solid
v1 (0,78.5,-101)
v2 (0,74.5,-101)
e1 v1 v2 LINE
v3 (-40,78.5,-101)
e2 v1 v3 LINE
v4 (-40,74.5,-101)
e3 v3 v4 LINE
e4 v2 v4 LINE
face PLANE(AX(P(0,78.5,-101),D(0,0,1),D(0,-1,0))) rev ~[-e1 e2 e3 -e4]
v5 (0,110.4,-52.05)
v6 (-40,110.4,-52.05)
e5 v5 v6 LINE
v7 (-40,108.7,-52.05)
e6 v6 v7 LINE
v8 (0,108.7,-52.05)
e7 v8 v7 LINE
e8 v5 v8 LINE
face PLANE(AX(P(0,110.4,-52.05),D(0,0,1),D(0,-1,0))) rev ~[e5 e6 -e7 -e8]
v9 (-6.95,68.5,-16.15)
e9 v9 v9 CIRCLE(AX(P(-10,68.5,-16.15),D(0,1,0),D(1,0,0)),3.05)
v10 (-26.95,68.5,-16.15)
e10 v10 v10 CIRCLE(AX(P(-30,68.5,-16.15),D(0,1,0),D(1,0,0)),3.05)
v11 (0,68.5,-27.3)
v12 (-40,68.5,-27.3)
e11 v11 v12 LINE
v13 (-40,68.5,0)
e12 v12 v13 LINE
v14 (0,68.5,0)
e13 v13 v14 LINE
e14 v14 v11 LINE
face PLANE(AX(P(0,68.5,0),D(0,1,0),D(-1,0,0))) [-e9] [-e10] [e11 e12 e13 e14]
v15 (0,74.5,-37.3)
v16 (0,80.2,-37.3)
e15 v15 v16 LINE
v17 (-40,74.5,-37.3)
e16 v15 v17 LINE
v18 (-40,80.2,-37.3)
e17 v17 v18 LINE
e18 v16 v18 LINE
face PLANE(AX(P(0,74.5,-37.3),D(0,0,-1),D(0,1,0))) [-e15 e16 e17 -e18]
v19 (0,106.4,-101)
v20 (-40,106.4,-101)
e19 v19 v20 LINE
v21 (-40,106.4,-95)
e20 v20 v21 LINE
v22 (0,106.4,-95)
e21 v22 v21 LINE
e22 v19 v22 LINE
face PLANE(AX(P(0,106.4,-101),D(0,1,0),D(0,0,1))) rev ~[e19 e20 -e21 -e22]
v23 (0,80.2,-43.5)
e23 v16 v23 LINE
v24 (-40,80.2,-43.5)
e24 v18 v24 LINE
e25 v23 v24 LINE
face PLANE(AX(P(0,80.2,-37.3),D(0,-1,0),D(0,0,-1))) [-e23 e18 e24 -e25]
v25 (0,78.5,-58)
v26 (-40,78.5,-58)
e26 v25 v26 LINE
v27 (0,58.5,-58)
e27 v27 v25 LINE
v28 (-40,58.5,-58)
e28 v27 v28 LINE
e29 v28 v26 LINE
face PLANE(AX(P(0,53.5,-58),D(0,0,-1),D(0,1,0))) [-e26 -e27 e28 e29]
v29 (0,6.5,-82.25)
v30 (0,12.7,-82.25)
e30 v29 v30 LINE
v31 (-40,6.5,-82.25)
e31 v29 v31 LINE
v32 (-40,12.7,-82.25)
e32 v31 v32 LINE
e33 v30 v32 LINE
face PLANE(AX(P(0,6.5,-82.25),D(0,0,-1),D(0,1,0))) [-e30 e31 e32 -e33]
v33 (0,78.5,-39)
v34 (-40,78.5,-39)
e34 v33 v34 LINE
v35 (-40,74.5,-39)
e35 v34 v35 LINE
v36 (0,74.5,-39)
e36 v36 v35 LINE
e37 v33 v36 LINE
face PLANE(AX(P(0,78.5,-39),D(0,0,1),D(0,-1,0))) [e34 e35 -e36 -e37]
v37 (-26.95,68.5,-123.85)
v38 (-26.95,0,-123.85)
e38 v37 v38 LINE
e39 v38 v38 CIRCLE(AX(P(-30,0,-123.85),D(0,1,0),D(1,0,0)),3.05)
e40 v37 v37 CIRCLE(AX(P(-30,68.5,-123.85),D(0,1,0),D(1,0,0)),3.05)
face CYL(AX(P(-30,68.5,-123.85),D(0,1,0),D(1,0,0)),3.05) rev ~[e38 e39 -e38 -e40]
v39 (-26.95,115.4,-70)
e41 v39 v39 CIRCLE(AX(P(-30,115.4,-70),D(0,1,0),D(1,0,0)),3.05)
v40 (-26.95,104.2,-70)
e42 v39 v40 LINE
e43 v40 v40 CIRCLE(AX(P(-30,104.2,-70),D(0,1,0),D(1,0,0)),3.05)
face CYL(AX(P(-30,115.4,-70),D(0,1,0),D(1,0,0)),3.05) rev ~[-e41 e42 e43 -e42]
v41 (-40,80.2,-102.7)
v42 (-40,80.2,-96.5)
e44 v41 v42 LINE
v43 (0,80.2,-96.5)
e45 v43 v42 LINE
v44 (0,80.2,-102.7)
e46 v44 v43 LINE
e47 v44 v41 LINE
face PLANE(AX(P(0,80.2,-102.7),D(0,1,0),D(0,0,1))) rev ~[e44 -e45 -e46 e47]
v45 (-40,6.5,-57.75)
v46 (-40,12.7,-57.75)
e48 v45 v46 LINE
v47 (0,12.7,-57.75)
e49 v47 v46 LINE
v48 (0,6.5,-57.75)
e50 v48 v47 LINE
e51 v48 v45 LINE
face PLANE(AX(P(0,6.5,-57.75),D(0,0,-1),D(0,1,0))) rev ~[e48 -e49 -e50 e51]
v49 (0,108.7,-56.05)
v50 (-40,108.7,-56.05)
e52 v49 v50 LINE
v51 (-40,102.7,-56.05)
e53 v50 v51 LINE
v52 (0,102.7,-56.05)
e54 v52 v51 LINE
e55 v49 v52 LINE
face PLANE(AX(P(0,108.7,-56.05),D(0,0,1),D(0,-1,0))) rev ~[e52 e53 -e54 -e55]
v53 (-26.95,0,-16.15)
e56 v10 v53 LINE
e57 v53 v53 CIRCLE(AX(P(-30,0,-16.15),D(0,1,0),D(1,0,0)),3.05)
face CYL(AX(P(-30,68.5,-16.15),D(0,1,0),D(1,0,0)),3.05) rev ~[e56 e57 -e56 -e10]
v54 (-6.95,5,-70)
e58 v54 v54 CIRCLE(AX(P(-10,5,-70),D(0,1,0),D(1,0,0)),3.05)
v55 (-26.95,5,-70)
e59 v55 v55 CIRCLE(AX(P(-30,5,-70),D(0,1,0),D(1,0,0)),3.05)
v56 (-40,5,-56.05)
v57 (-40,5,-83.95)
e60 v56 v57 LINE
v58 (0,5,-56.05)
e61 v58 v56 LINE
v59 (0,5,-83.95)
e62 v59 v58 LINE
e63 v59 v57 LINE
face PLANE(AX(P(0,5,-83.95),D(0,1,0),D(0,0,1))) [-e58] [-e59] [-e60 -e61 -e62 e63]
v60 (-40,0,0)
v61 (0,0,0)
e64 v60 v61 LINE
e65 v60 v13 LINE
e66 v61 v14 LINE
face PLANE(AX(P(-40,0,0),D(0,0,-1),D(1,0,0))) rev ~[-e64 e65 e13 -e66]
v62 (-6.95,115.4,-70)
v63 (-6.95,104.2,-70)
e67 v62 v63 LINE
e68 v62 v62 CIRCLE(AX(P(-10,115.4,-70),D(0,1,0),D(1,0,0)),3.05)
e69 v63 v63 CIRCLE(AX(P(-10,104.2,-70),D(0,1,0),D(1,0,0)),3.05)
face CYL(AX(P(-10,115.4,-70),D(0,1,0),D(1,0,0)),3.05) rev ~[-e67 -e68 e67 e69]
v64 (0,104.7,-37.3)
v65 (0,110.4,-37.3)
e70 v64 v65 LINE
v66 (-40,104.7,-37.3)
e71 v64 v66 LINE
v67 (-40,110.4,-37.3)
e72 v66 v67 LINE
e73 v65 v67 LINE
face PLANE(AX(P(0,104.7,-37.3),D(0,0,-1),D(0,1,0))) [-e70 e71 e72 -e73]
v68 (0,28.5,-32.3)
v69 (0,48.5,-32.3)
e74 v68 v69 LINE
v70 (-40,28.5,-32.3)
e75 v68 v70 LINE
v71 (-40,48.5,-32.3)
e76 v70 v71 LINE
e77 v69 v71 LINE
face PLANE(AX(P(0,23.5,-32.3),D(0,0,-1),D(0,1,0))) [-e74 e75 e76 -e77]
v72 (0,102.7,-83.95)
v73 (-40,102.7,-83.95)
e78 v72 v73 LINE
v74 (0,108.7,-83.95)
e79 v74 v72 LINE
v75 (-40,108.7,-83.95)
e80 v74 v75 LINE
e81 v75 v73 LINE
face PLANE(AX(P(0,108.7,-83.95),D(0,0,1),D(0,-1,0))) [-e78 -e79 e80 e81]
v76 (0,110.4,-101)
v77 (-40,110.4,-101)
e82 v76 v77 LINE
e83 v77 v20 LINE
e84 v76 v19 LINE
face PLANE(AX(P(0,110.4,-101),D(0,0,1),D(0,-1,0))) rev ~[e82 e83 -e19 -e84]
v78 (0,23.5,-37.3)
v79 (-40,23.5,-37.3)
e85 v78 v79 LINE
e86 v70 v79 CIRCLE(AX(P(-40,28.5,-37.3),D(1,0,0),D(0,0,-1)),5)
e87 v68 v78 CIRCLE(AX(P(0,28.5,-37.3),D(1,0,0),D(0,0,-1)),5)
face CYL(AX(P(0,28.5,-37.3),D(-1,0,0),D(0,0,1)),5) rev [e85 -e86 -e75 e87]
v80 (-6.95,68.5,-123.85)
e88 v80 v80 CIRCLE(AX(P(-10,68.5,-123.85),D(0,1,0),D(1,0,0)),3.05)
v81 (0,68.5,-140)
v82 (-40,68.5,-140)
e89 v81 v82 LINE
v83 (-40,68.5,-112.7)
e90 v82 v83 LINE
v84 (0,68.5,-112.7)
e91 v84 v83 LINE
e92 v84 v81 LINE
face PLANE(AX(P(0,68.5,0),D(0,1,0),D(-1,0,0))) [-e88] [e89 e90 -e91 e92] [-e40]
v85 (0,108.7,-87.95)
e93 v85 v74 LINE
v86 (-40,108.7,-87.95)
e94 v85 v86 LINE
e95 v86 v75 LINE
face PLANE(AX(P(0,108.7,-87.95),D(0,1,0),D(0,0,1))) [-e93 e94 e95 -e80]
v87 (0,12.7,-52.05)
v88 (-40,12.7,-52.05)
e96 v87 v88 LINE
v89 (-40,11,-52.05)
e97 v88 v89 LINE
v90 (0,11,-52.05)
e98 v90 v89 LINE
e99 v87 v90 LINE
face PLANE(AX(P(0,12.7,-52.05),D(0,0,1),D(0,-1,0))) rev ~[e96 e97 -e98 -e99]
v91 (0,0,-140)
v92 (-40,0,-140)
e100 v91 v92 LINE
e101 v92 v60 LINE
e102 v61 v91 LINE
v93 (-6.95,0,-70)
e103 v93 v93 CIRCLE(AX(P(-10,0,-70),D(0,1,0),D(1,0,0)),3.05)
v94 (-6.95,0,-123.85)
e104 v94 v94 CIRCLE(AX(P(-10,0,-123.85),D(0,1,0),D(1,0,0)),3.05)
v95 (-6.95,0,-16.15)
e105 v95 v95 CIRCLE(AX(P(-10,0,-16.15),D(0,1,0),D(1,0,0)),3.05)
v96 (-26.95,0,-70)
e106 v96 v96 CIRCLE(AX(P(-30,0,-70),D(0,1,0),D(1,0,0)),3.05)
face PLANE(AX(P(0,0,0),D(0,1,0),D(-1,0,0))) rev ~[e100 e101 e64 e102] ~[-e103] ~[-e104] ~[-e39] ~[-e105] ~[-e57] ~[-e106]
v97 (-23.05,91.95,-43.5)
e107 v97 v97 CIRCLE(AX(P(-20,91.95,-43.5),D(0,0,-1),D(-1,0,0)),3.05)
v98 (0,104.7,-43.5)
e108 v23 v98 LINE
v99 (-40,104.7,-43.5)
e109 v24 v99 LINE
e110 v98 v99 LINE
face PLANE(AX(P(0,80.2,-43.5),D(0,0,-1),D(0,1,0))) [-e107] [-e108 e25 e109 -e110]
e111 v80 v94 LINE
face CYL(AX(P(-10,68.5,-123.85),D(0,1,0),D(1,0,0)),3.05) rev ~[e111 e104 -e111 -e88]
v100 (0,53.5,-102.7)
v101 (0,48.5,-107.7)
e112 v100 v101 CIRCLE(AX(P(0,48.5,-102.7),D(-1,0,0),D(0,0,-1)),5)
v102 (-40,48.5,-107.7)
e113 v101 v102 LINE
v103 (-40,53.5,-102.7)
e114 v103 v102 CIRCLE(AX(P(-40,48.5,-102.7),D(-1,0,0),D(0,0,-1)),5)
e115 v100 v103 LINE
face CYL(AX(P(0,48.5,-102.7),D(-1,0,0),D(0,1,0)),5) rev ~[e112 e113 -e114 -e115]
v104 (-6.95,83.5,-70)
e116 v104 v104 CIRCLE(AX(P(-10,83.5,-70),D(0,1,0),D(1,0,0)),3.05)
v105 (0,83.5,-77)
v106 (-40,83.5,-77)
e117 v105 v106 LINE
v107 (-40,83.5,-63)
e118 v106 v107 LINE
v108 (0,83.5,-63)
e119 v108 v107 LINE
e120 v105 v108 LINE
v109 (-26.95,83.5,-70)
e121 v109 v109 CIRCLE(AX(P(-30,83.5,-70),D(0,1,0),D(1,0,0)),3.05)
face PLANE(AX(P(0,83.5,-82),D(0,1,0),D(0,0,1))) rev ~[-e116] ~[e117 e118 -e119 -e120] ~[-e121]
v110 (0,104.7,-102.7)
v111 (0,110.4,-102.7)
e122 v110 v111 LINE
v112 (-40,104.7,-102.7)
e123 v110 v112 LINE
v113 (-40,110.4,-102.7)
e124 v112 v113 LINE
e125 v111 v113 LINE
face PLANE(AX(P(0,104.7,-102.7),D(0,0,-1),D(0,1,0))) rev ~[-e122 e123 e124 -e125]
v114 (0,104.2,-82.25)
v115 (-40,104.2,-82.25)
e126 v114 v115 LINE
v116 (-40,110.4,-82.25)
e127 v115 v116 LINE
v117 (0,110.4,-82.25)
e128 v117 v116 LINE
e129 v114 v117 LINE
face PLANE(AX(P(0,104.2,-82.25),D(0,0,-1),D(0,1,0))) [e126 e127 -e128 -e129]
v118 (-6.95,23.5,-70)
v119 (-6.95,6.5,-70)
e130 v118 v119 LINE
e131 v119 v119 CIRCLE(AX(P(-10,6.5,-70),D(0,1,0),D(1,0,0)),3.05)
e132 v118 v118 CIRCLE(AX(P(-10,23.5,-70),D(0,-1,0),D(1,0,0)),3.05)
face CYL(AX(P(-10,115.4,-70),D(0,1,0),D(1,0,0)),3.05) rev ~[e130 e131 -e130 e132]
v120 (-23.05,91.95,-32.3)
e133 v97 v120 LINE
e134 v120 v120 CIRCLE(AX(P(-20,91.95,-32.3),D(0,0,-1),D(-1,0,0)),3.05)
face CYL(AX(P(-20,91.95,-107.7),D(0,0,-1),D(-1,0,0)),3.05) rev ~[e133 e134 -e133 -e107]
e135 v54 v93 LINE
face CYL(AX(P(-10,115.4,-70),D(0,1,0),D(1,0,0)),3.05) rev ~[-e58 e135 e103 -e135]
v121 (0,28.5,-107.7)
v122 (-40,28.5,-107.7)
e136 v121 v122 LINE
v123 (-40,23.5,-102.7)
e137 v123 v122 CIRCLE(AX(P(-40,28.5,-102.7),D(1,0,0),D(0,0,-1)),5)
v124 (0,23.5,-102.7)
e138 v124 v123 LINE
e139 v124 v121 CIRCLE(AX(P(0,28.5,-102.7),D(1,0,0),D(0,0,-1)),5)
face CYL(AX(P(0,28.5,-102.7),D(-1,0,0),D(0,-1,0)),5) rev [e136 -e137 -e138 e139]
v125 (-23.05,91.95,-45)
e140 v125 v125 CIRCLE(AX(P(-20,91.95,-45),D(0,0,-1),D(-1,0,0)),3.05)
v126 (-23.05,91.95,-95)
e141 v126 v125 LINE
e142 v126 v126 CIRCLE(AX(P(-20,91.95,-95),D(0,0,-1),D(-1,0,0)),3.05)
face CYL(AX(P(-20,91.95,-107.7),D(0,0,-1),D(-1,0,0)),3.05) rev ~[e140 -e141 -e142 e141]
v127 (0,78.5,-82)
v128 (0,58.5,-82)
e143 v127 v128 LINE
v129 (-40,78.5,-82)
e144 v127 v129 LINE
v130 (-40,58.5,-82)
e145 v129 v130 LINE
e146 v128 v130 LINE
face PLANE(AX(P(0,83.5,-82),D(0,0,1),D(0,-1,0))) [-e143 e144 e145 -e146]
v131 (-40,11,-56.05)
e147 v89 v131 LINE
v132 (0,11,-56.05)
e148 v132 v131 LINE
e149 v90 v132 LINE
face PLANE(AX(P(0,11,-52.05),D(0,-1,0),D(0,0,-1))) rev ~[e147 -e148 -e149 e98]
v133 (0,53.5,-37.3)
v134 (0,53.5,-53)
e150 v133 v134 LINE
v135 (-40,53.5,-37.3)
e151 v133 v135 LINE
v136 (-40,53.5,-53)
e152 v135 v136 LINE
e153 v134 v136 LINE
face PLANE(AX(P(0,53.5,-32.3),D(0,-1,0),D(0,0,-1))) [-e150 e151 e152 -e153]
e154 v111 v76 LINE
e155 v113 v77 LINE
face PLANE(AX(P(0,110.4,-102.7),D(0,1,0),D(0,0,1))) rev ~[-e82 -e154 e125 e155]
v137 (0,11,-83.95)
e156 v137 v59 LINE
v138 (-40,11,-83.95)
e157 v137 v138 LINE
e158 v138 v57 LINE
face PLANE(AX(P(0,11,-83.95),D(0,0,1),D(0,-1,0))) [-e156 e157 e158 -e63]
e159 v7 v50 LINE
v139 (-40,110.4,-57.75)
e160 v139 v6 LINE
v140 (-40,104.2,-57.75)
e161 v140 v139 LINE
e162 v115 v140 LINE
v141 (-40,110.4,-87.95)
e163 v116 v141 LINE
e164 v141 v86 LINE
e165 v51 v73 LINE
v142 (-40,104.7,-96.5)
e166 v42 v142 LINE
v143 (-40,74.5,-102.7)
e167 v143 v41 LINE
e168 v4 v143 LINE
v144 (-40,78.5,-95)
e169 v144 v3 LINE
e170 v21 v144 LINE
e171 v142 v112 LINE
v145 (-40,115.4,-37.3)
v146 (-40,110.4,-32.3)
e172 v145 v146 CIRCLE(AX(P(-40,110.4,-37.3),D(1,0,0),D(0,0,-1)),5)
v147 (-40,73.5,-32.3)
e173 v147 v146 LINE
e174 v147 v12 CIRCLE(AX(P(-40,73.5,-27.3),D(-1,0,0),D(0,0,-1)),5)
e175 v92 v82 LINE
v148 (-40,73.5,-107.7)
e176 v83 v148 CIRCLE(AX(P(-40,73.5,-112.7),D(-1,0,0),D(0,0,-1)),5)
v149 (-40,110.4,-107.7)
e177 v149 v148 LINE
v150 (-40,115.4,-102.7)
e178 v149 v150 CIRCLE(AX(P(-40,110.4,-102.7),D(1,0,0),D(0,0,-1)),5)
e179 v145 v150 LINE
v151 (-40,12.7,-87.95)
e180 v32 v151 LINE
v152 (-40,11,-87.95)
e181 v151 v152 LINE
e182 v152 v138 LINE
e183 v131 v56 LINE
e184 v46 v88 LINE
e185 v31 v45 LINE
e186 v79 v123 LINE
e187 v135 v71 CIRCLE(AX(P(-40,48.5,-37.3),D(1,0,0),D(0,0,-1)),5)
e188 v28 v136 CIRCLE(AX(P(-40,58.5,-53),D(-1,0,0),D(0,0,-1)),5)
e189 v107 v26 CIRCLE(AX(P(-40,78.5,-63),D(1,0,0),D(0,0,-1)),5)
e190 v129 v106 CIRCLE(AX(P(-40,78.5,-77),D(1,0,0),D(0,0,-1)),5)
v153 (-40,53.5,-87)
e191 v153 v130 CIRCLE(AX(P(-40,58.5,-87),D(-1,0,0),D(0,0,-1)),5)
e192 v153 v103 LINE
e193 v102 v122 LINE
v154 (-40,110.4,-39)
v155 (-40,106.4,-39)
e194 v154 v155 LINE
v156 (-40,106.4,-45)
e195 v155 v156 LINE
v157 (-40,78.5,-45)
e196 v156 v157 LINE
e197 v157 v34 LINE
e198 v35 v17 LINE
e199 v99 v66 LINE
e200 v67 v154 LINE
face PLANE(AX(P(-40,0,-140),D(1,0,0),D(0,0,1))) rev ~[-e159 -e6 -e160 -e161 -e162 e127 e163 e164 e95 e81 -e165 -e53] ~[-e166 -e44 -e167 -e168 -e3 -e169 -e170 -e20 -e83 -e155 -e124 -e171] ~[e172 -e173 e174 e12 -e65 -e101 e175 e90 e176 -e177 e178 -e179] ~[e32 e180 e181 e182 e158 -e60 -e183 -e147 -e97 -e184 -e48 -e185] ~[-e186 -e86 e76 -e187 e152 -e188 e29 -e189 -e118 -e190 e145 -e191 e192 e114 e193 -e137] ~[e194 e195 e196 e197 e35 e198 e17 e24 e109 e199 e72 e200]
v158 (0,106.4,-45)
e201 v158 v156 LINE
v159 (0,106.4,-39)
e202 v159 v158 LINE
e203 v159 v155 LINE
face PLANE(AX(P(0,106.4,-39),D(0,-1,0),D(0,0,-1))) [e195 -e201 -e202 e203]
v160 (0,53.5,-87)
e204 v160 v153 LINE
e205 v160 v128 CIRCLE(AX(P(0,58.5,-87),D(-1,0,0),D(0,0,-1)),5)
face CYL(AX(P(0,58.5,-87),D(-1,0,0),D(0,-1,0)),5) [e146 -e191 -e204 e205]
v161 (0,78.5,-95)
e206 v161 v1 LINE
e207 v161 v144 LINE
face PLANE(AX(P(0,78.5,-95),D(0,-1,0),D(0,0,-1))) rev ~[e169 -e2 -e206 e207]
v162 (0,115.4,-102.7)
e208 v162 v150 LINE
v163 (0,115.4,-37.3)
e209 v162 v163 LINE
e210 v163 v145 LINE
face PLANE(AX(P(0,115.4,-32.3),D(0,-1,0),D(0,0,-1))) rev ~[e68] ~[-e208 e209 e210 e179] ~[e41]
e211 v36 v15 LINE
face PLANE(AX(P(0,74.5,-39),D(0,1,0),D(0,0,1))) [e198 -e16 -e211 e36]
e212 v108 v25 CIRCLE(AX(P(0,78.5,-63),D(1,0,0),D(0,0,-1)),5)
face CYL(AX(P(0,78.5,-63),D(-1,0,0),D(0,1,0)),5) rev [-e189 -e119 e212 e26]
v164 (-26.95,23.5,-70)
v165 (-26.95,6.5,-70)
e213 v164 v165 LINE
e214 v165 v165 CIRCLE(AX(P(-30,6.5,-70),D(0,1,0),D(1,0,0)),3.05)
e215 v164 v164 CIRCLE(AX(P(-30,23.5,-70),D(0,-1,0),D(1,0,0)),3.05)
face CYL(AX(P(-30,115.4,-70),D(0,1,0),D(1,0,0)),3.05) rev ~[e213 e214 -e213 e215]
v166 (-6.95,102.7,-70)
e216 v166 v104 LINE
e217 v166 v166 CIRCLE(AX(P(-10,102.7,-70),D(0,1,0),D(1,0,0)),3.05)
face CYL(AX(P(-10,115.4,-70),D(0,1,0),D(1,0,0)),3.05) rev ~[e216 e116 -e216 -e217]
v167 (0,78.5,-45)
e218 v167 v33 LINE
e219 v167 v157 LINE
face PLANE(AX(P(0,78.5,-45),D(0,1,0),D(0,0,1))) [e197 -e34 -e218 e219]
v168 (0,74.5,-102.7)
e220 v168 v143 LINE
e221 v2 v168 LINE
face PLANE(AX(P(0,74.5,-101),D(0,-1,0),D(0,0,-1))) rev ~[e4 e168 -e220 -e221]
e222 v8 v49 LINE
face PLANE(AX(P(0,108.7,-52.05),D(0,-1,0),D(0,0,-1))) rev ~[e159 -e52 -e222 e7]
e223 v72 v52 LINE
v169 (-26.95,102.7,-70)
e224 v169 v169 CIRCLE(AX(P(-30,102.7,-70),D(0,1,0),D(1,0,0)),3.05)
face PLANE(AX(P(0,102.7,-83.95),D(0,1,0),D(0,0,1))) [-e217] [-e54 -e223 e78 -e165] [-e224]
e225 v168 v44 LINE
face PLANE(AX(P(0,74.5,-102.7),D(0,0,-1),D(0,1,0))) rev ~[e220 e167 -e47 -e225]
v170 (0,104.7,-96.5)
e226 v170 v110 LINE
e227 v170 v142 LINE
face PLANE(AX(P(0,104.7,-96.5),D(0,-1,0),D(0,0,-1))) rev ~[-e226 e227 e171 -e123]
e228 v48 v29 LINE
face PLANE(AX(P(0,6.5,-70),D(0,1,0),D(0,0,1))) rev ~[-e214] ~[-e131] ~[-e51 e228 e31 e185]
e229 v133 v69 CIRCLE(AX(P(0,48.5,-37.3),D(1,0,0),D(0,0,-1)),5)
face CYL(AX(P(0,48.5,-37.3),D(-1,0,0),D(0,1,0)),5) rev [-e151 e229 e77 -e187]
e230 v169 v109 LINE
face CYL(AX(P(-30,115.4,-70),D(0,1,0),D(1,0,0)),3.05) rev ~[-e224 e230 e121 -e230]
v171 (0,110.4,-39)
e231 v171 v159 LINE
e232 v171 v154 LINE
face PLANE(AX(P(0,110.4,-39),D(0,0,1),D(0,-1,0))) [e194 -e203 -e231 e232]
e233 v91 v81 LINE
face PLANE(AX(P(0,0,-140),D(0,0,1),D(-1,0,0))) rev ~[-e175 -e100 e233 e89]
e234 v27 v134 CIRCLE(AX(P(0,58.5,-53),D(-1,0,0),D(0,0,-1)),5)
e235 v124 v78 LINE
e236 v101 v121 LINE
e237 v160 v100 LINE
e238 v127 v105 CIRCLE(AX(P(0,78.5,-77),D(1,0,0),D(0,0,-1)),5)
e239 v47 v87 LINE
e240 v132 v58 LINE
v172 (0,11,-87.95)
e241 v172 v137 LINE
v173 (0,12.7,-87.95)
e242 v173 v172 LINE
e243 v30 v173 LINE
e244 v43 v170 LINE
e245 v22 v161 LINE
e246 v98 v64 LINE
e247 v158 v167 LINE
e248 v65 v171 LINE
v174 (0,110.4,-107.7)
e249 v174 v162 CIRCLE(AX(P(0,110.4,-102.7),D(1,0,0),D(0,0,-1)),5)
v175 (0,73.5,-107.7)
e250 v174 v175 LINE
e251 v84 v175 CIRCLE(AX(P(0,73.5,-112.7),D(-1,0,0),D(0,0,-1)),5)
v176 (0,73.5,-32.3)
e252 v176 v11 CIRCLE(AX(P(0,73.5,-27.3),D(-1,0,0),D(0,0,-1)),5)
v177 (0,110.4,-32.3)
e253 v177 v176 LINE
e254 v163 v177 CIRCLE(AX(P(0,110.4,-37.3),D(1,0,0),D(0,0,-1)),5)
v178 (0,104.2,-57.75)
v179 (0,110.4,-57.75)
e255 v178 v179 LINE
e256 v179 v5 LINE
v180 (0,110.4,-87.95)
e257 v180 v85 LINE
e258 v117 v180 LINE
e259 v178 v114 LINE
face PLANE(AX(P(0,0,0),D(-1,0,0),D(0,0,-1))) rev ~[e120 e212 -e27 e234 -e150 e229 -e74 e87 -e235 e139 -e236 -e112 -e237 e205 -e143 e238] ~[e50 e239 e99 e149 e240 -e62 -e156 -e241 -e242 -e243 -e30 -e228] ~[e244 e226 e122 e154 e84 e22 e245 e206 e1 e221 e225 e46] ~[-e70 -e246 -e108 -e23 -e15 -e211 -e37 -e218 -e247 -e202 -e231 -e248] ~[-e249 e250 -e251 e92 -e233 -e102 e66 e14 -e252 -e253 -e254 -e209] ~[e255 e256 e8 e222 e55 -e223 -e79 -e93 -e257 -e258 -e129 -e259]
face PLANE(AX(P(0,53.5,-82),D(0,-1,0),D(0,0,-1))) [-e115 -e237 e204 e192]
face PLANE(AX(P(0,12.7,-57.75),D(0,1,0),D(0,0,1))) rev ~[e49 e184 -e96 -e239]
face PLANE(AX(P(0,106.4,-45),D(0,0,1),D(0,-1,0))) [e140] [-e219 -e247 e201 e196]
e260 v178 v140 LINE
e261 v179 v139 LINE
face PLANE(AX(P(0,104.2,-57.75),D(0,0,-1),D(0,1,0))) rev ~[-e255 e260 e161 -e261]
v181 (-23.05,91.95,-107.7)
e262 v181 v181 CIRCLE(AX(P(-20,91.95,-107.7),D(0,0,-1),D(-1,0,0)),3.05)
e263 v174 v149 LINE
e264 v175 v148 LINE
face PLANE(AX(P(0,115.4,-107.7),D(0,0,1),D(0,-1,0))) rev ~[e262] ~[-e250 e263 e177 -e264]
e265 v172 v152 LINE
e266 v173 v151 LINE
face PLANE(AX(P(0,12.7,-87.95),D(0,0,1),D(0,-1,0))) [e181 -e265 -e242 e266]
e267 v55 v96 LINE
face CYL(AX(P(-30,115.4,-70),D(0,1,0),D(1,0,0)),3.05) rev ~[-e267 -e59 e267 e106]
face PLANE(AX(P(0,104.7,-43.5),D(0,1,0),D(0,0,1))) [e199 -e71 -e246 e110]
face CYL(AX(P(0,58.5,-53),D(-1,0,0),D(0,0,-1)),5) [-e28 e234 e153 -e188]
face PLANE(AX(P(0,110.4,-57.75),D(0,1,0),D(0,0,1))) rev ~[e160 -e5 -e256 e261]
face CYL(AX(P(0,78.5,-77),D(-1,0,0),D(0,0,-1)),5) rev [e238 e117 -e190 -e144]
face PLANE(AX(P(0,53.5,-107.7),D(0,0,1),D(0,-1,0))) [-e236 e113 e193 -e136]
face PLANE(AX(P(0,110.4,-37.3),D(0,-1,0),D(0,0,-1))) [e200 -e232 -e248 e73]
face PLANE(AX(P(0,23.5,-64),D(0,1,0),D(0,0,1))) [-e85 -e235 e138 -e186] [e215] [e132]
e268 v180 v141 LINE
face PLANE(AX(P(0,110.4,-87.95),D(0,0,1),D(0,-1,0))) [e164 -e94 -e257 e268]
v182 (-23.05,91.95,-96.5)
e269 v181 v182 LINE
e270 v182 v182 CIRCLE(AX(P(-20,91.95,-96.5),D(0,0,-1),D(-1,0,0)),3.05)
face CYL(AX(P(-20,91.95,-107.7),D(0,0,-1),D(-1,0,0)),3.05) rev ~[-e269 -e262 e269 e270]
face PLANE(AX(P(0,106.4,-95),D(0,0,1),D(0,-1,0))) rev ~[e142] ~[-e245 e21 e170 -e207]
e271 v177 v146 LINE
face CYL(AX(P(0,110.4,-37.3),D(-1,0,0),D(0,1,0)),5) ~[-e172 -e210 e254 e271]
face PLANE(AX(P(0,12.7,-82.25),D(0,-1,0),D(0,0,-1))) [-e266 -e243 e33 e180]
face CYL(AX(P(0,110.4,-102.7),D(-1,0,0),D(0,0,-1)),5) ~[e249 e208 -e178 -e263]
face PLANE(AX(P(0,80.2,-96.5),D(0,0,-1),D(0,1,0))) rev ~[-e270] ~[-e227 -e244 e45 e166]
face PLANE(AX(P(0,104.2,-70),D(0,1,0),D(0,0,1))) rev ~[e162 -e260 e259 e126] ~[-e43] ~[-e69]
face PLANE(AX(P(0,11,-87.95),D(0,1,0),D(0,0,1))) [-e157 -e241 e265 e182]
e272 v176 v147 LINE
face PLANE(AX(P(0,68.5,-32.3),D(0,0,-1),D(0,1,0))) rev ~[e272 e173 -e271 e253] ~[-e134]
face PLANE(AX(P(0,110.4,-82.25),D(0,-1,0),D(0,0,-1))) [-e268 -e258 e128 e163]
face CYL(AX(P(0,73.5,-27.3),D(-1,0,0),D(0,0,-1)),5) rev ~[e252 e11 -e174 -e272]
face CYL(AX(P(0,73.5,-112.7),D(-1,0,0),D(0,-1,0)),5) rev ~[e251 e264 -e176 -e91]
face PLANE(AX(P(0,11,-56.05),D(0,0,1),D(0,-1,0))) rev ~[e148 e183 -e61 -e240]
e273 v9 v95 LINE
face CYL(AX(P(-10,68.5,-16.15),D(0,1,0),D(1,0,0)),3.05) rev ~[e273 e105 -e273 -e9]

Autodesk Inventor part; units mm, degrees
ref_plane "YZ Plane" through (0, 0, 0) normal (1, 0, 0) x (0, 1, 0)
ref_plane "XZ Plane" through (0, 0, 0) normal (0, 1, 0) x (-1, 0, 0)
ref_plane "XY Plane" through (0, 0, 0) normal (0, 0, 1) x (1, 0, 0)
sketch "Sketch1" plane through (0, 0, 0) normal (0, 1, 0) x (-1, 0, 0)
  line L0 (0, 0) -> (0, -140)
  line L1 (0, -140) -> (40, -140)
  line L2 (40, -140) -> (40, 0)
  line L3 (40, 0) -> (0, 0)
  dimension "d0" = 140
  dimension "d1" = 40
extrude "Extrusion1" add sketch "Sketch1" along normal blind 68.5
sketch "Sketch2" plane through (0, 0, 0) normal (1, 0, 0) x (0, 0, -1)
  line L0 (140, 68.5) -> (0, 68.5) projected
  line L1 (45, 78.5) -> (39, 78.5)
  line L2 (39, 78.5) -> (39, 74.5)
  line L3 (39, 74.5) -> (37.3, 74.5)
  line L4 (37.3, 74.5) -> (37.3, 80.2)
  line L5 (37.3, 80.2) -> (43.5, 80.2)
  line L6 (43.5, 80.2) -> (43.5, 104.7)
  line L7 (43.5, 104.7) -> (37.3, 104.7)
  line L8 (37.3, 104.7) -> (37.3, 110.4)
  line L9 (37.3, 110.4) -> (39, 110.4)
  line L10 (39, 110.4) -> (39, 106.4)
  line L11 (39, 106.4) -> (45, 106.4)
  line L12 (45, 106.4) -> (45, 78.5)
  line L13 (95, 78.5) -> (101, 78.5)
  line L14 (101, 78.5) -> (101, 74.5)
  line L15 (101, 74.5) -> (102.7, 74.5)
  line L16 (102.7, 74.5) -> (102.7, 80.2)
  line L17 (102.7, 80.2) -> (96.5, 80.2)
  line L18 (96.5, 80.2) -> (96.5, 104.7)
  line L19 (96.5, 104.7) -> (102.7, 104.7)
  line L20 (102.7, 104.7) -> (102.7, 110.4)
  line L21 (102.7, 110.4) -> (101, 110.4)
  line L22 (101, 110.4) -> (101, 106.4)
  line L23 (101, 106.4) -> (95, 106.4)
  line L24 (95, 106.4) -> (95, 78.5)
  line L25 (37.3, 68.5) -> (32.3, 68.5)
  line L26 (32.3, 68.5) -> (32.3, 110.4)
  line L27 (32.3, 110.4) -> (32.3, 115.4)
  line L28 (32.3, 115.4) -> (102.7, 115.4)
  line L29 (102.7, 115.4) -> (107.7, 115.4)
  line L30 (107.7, 115.4) -> (107.7, 68.5)
  line L31 (37.3, 68.5) -> (107.7, 68.5)
  point P0 (0, 0)
  dimension "d8" = 4
  dimension "d9" = 1.7
  dimension "d10" = 5.7
  dimension "d11" = 6.2
  dimension "d12" = 24.5
  dimension "d13" = 5.7
  dimension "d14" = 1.7
  dimension "d15" = 4
  dimension "d16" = 6
  dimension "d17" = 5
  dimension "d18" = 5
  dimension "d19" = 5
extrude "Extrusion2" add sketch "Sketch2" against normal up to surface (40 mm away)
sketch "Sketch3" plane through (0, 0, 0) normal (1, 0, 0) x (0, 0, -1)
  line L0 (87.95, 12.7) -> (87.95, 11)
  line L1 (87.95, 11) -> (83.95, 11)
  line L2 (83.95, 11) -> (83.95, 5)
  line L3 (83.95, 5) -> (70, 5)
  line L4 (70, 6.5) -> (82.25, 6.5)
  line L5 (82.25, 6.5) -> (82.25, 12.7)
  line L6 (82.25, 12.7) -> (87.95, 12.7)
  line L7 (52.05, 12.7) -> (52.05, 11)
  line L8 (52.05, 11) -> (56.05, 11)
  line L9 (56.05, 11) -> (56.05, 5)
  line L10 (56.05, 5) -> (70, 5)
  line L11 (70, 6.5) -> (57.75, 6.5)
  line L12 (57.75, 6.5) -> (57.75, 12.7)
  line L13 (57.75, 12.7) -> (52.05, 12.7)
  line L14 (107.7, 115.4) -> (32.3, 115.4) projected
  line L15 (87.95, 110.4) -> (87.95, 108.7)
  line L16 (87.95, 108.7) -> (83.95, 108.7)
  line L17 (83.95, 108.7) -> (83.95, 102.7)
  line L18 (83.95, 102.7) -> (70, 102.7)
  line L19 (70, 104.2) -> (82.25, 104.2)
  line L20 (82.25, 110.4) -> (87.95, 110.4)
  line L21 (52.05, 110.4) -> (52.05, 108.7)
  line L22 (52.05, 108.7) -> (56.05, 108.7)
  line L23 (56.05, 108.7) -> (56.05, 102.7)
  line L24 (56.05, 102.7) -> (70, 102.7)
  line L25 (70, 104.2) -> (57.75, 104.2)
  line L26 (57.75, 104.2) -> (57.75, 110.4)
  line L27 (57.75, 110.4) -> (52.05, 110.4)
  line L28 (82.25, 104.2) -> (82.25, 110.4)
  line L29 (140, 0) -> (0, 0) projected
  dimension "d27" = 6
  dimension "d31" = 6
extrude "Extrusion3" cut sketch "Sketch3" against normal up to surface (40 mm away)
sketch "Sketch4" plane through (0, 115.4, -32.3) normal (0, 1, 0) x (1, 0, 0)
  line L0 (-40, 75.4) -> (-40, 0) projected
  line L1 (0, 0) -> (-40, 0) projected
  line L2 (0, 75.4) -> (0, 0) projected
  line L3 (0, 75.4) -> (-40, 75.4) projected
  line L4 (0, -32.3) -> (0, 107.7) projected
  line L5 (-40, 107.7) -> (-40, -32.3) projected
  line L6 (-40, 75.4) -> (0, 75.4) projected
  line L7 (0, 0) -> (-40, 0) projected
  circle A0 centre (-30, 37.7) radius 3.05
  circle A1 centre (-10, 37.7) radius 3.05
  dimension "d48" = 6.1
  dimension "d49" = 6.1
sketch "Sketch5" plane through (0, 68.5, -107.7) normal (0, 0, -1) x (-1, 0, 0)
  line L0 (40, 0) -> (40, 46.9) projected
  line L1 (0, 46.9) -> (40, 46.9) projected
  line L2 (0, 0) -> (0, 46.9) projected
  line L3 (40, 0) -> (0, 0) projected
  line L4 (0, 46.9) -> (0, 0) projected
  line L5 (40, 36.2) -> (40, 11.7) projected
  line L6 (0, 46.9) -> (40, 46.9) projected
  circle A0 centre (20, 23.45) radius 3.05
  point P0 (0, -68.5)
sketch "Sketch6" plane through (0, 68.5, 0) normal (0, 1, 0) x (1, 0, 0)
  line L0 (-40, 107.7) -> (0, 107.7) projected
  line L1 (0, 107.7) -> (0, 140) projected
  line L2 (0, 140) -> (-40, 140) projected
  line L3 (-40, 140) -> (-40, 107.7) projected
  line L4 (0, 32.3) -> (-40, 32.3) projected
  line L5 (-40, 32.3) -> (-40, 0) projected
  line L6 (-40, 0) -> (0, 0) projected
  line L7 (0, 0) -> (0, 32.3) projected
  line L8 (0, 107.7) -> (0, 140) projected
  line L9 (-40, 140) -> (-40, 107.7) projected
  line L10 (0, 140) -> (-40, 140) projected
  line L11 (0, 32.3) -> (-40, 32.3) projected
  line L12 (-40, 0) -> (0, 0) projected
  line L13 (0, 0) -> (0, 140) projected
  line L14 (-40, 140) -> (-40, 0) projected
  circle A0 centre (-10, 123.85) radius 3.05
  circle A1 centre (-30, 123.85) radius 3.05
  circle A2 centre (-10, 16.15) radius 3.05
  circle A3 centre (-30, 16.15) radius 3.05
  dimension "d37" = 6.1
  dimension "d38" = 6.1
  dimension "d39" = 6.1
  dimension "d40" = 6.1
extrude "Extrusion4" cut sketch "Sketch6" against normal up to surface (68.5 mm away) contours A0 | A1 | A2 | A3
extrude "Extrusion5" cut sketch "Sketch4" against normal up to surface (115.4 mm away) contours A0 | A1
extrude "Extrusion6" cut sketch "Sketch5" against normal up to surface (75.4 mm away) contours A0
sketch "Sketch7" plane through (0, 0, 0) normal (1, 0, 0) x (0, 0, -1)
  line L0 (107.7, 53.5) -> (107.7, 23.5)
  line L1 (107.7, 23.5) -> (32.3, 23.5)
  line L2 (32.3, 23.5) -> (32.3, 53.5)
  line L3 (70, 23.5) -> (64, 23.5)
  line L4 (64, 23.5) -> (76, 23.5)
  line L5 (58, 53.5) -> (58, 93.5)
  line L6 (58, 93.5) -> (76, 93.5)
  line L7 (76, 93.5) -> (82, 93.5)
  line L8 (82, 93.5) -> (82, 53.5)
  line L9 (32.3, 53.5) -> (58, 53.5)
  line L10 (82, 53.5) -> (107.7, 53.5)
  line L11 (82, 93.5) -> (82, 83.5)
  line L12 (82, 83.5) -> (58, 83.5)
  point P0 (0, 0)
  dimension "d52" = 6
  dimension "d53" = 12
  dimension "d58" = 40
  dimension "d59" = 6
  dimension "d61" = 10
extrude "Extrusion7" cut sketch "Sketch7" against normal up to surface (40 mm away) contours L0 L1 L2 L9 L5 L12 L8 L10
fillet "Fillet1" radius 5 8 edges at (-20, 53.5, -82) (-20, 53.5, -58) (-20, 53.5, -32.3) (-20, 23.5, -32.3) (-20, 23.5, -107.7) (-20, 53.5, -107.7) (-20, 83.5, -58) (-20, 83.5, -82)
fillet "Fillet2" radius 5 4 edges at (-20, 115.4, -32.3) (-20, 68.5, -32.3) (-20, 115.4, -107.7) (-20, 68.5, -107.7)
properties part number "din_damper_connector"
